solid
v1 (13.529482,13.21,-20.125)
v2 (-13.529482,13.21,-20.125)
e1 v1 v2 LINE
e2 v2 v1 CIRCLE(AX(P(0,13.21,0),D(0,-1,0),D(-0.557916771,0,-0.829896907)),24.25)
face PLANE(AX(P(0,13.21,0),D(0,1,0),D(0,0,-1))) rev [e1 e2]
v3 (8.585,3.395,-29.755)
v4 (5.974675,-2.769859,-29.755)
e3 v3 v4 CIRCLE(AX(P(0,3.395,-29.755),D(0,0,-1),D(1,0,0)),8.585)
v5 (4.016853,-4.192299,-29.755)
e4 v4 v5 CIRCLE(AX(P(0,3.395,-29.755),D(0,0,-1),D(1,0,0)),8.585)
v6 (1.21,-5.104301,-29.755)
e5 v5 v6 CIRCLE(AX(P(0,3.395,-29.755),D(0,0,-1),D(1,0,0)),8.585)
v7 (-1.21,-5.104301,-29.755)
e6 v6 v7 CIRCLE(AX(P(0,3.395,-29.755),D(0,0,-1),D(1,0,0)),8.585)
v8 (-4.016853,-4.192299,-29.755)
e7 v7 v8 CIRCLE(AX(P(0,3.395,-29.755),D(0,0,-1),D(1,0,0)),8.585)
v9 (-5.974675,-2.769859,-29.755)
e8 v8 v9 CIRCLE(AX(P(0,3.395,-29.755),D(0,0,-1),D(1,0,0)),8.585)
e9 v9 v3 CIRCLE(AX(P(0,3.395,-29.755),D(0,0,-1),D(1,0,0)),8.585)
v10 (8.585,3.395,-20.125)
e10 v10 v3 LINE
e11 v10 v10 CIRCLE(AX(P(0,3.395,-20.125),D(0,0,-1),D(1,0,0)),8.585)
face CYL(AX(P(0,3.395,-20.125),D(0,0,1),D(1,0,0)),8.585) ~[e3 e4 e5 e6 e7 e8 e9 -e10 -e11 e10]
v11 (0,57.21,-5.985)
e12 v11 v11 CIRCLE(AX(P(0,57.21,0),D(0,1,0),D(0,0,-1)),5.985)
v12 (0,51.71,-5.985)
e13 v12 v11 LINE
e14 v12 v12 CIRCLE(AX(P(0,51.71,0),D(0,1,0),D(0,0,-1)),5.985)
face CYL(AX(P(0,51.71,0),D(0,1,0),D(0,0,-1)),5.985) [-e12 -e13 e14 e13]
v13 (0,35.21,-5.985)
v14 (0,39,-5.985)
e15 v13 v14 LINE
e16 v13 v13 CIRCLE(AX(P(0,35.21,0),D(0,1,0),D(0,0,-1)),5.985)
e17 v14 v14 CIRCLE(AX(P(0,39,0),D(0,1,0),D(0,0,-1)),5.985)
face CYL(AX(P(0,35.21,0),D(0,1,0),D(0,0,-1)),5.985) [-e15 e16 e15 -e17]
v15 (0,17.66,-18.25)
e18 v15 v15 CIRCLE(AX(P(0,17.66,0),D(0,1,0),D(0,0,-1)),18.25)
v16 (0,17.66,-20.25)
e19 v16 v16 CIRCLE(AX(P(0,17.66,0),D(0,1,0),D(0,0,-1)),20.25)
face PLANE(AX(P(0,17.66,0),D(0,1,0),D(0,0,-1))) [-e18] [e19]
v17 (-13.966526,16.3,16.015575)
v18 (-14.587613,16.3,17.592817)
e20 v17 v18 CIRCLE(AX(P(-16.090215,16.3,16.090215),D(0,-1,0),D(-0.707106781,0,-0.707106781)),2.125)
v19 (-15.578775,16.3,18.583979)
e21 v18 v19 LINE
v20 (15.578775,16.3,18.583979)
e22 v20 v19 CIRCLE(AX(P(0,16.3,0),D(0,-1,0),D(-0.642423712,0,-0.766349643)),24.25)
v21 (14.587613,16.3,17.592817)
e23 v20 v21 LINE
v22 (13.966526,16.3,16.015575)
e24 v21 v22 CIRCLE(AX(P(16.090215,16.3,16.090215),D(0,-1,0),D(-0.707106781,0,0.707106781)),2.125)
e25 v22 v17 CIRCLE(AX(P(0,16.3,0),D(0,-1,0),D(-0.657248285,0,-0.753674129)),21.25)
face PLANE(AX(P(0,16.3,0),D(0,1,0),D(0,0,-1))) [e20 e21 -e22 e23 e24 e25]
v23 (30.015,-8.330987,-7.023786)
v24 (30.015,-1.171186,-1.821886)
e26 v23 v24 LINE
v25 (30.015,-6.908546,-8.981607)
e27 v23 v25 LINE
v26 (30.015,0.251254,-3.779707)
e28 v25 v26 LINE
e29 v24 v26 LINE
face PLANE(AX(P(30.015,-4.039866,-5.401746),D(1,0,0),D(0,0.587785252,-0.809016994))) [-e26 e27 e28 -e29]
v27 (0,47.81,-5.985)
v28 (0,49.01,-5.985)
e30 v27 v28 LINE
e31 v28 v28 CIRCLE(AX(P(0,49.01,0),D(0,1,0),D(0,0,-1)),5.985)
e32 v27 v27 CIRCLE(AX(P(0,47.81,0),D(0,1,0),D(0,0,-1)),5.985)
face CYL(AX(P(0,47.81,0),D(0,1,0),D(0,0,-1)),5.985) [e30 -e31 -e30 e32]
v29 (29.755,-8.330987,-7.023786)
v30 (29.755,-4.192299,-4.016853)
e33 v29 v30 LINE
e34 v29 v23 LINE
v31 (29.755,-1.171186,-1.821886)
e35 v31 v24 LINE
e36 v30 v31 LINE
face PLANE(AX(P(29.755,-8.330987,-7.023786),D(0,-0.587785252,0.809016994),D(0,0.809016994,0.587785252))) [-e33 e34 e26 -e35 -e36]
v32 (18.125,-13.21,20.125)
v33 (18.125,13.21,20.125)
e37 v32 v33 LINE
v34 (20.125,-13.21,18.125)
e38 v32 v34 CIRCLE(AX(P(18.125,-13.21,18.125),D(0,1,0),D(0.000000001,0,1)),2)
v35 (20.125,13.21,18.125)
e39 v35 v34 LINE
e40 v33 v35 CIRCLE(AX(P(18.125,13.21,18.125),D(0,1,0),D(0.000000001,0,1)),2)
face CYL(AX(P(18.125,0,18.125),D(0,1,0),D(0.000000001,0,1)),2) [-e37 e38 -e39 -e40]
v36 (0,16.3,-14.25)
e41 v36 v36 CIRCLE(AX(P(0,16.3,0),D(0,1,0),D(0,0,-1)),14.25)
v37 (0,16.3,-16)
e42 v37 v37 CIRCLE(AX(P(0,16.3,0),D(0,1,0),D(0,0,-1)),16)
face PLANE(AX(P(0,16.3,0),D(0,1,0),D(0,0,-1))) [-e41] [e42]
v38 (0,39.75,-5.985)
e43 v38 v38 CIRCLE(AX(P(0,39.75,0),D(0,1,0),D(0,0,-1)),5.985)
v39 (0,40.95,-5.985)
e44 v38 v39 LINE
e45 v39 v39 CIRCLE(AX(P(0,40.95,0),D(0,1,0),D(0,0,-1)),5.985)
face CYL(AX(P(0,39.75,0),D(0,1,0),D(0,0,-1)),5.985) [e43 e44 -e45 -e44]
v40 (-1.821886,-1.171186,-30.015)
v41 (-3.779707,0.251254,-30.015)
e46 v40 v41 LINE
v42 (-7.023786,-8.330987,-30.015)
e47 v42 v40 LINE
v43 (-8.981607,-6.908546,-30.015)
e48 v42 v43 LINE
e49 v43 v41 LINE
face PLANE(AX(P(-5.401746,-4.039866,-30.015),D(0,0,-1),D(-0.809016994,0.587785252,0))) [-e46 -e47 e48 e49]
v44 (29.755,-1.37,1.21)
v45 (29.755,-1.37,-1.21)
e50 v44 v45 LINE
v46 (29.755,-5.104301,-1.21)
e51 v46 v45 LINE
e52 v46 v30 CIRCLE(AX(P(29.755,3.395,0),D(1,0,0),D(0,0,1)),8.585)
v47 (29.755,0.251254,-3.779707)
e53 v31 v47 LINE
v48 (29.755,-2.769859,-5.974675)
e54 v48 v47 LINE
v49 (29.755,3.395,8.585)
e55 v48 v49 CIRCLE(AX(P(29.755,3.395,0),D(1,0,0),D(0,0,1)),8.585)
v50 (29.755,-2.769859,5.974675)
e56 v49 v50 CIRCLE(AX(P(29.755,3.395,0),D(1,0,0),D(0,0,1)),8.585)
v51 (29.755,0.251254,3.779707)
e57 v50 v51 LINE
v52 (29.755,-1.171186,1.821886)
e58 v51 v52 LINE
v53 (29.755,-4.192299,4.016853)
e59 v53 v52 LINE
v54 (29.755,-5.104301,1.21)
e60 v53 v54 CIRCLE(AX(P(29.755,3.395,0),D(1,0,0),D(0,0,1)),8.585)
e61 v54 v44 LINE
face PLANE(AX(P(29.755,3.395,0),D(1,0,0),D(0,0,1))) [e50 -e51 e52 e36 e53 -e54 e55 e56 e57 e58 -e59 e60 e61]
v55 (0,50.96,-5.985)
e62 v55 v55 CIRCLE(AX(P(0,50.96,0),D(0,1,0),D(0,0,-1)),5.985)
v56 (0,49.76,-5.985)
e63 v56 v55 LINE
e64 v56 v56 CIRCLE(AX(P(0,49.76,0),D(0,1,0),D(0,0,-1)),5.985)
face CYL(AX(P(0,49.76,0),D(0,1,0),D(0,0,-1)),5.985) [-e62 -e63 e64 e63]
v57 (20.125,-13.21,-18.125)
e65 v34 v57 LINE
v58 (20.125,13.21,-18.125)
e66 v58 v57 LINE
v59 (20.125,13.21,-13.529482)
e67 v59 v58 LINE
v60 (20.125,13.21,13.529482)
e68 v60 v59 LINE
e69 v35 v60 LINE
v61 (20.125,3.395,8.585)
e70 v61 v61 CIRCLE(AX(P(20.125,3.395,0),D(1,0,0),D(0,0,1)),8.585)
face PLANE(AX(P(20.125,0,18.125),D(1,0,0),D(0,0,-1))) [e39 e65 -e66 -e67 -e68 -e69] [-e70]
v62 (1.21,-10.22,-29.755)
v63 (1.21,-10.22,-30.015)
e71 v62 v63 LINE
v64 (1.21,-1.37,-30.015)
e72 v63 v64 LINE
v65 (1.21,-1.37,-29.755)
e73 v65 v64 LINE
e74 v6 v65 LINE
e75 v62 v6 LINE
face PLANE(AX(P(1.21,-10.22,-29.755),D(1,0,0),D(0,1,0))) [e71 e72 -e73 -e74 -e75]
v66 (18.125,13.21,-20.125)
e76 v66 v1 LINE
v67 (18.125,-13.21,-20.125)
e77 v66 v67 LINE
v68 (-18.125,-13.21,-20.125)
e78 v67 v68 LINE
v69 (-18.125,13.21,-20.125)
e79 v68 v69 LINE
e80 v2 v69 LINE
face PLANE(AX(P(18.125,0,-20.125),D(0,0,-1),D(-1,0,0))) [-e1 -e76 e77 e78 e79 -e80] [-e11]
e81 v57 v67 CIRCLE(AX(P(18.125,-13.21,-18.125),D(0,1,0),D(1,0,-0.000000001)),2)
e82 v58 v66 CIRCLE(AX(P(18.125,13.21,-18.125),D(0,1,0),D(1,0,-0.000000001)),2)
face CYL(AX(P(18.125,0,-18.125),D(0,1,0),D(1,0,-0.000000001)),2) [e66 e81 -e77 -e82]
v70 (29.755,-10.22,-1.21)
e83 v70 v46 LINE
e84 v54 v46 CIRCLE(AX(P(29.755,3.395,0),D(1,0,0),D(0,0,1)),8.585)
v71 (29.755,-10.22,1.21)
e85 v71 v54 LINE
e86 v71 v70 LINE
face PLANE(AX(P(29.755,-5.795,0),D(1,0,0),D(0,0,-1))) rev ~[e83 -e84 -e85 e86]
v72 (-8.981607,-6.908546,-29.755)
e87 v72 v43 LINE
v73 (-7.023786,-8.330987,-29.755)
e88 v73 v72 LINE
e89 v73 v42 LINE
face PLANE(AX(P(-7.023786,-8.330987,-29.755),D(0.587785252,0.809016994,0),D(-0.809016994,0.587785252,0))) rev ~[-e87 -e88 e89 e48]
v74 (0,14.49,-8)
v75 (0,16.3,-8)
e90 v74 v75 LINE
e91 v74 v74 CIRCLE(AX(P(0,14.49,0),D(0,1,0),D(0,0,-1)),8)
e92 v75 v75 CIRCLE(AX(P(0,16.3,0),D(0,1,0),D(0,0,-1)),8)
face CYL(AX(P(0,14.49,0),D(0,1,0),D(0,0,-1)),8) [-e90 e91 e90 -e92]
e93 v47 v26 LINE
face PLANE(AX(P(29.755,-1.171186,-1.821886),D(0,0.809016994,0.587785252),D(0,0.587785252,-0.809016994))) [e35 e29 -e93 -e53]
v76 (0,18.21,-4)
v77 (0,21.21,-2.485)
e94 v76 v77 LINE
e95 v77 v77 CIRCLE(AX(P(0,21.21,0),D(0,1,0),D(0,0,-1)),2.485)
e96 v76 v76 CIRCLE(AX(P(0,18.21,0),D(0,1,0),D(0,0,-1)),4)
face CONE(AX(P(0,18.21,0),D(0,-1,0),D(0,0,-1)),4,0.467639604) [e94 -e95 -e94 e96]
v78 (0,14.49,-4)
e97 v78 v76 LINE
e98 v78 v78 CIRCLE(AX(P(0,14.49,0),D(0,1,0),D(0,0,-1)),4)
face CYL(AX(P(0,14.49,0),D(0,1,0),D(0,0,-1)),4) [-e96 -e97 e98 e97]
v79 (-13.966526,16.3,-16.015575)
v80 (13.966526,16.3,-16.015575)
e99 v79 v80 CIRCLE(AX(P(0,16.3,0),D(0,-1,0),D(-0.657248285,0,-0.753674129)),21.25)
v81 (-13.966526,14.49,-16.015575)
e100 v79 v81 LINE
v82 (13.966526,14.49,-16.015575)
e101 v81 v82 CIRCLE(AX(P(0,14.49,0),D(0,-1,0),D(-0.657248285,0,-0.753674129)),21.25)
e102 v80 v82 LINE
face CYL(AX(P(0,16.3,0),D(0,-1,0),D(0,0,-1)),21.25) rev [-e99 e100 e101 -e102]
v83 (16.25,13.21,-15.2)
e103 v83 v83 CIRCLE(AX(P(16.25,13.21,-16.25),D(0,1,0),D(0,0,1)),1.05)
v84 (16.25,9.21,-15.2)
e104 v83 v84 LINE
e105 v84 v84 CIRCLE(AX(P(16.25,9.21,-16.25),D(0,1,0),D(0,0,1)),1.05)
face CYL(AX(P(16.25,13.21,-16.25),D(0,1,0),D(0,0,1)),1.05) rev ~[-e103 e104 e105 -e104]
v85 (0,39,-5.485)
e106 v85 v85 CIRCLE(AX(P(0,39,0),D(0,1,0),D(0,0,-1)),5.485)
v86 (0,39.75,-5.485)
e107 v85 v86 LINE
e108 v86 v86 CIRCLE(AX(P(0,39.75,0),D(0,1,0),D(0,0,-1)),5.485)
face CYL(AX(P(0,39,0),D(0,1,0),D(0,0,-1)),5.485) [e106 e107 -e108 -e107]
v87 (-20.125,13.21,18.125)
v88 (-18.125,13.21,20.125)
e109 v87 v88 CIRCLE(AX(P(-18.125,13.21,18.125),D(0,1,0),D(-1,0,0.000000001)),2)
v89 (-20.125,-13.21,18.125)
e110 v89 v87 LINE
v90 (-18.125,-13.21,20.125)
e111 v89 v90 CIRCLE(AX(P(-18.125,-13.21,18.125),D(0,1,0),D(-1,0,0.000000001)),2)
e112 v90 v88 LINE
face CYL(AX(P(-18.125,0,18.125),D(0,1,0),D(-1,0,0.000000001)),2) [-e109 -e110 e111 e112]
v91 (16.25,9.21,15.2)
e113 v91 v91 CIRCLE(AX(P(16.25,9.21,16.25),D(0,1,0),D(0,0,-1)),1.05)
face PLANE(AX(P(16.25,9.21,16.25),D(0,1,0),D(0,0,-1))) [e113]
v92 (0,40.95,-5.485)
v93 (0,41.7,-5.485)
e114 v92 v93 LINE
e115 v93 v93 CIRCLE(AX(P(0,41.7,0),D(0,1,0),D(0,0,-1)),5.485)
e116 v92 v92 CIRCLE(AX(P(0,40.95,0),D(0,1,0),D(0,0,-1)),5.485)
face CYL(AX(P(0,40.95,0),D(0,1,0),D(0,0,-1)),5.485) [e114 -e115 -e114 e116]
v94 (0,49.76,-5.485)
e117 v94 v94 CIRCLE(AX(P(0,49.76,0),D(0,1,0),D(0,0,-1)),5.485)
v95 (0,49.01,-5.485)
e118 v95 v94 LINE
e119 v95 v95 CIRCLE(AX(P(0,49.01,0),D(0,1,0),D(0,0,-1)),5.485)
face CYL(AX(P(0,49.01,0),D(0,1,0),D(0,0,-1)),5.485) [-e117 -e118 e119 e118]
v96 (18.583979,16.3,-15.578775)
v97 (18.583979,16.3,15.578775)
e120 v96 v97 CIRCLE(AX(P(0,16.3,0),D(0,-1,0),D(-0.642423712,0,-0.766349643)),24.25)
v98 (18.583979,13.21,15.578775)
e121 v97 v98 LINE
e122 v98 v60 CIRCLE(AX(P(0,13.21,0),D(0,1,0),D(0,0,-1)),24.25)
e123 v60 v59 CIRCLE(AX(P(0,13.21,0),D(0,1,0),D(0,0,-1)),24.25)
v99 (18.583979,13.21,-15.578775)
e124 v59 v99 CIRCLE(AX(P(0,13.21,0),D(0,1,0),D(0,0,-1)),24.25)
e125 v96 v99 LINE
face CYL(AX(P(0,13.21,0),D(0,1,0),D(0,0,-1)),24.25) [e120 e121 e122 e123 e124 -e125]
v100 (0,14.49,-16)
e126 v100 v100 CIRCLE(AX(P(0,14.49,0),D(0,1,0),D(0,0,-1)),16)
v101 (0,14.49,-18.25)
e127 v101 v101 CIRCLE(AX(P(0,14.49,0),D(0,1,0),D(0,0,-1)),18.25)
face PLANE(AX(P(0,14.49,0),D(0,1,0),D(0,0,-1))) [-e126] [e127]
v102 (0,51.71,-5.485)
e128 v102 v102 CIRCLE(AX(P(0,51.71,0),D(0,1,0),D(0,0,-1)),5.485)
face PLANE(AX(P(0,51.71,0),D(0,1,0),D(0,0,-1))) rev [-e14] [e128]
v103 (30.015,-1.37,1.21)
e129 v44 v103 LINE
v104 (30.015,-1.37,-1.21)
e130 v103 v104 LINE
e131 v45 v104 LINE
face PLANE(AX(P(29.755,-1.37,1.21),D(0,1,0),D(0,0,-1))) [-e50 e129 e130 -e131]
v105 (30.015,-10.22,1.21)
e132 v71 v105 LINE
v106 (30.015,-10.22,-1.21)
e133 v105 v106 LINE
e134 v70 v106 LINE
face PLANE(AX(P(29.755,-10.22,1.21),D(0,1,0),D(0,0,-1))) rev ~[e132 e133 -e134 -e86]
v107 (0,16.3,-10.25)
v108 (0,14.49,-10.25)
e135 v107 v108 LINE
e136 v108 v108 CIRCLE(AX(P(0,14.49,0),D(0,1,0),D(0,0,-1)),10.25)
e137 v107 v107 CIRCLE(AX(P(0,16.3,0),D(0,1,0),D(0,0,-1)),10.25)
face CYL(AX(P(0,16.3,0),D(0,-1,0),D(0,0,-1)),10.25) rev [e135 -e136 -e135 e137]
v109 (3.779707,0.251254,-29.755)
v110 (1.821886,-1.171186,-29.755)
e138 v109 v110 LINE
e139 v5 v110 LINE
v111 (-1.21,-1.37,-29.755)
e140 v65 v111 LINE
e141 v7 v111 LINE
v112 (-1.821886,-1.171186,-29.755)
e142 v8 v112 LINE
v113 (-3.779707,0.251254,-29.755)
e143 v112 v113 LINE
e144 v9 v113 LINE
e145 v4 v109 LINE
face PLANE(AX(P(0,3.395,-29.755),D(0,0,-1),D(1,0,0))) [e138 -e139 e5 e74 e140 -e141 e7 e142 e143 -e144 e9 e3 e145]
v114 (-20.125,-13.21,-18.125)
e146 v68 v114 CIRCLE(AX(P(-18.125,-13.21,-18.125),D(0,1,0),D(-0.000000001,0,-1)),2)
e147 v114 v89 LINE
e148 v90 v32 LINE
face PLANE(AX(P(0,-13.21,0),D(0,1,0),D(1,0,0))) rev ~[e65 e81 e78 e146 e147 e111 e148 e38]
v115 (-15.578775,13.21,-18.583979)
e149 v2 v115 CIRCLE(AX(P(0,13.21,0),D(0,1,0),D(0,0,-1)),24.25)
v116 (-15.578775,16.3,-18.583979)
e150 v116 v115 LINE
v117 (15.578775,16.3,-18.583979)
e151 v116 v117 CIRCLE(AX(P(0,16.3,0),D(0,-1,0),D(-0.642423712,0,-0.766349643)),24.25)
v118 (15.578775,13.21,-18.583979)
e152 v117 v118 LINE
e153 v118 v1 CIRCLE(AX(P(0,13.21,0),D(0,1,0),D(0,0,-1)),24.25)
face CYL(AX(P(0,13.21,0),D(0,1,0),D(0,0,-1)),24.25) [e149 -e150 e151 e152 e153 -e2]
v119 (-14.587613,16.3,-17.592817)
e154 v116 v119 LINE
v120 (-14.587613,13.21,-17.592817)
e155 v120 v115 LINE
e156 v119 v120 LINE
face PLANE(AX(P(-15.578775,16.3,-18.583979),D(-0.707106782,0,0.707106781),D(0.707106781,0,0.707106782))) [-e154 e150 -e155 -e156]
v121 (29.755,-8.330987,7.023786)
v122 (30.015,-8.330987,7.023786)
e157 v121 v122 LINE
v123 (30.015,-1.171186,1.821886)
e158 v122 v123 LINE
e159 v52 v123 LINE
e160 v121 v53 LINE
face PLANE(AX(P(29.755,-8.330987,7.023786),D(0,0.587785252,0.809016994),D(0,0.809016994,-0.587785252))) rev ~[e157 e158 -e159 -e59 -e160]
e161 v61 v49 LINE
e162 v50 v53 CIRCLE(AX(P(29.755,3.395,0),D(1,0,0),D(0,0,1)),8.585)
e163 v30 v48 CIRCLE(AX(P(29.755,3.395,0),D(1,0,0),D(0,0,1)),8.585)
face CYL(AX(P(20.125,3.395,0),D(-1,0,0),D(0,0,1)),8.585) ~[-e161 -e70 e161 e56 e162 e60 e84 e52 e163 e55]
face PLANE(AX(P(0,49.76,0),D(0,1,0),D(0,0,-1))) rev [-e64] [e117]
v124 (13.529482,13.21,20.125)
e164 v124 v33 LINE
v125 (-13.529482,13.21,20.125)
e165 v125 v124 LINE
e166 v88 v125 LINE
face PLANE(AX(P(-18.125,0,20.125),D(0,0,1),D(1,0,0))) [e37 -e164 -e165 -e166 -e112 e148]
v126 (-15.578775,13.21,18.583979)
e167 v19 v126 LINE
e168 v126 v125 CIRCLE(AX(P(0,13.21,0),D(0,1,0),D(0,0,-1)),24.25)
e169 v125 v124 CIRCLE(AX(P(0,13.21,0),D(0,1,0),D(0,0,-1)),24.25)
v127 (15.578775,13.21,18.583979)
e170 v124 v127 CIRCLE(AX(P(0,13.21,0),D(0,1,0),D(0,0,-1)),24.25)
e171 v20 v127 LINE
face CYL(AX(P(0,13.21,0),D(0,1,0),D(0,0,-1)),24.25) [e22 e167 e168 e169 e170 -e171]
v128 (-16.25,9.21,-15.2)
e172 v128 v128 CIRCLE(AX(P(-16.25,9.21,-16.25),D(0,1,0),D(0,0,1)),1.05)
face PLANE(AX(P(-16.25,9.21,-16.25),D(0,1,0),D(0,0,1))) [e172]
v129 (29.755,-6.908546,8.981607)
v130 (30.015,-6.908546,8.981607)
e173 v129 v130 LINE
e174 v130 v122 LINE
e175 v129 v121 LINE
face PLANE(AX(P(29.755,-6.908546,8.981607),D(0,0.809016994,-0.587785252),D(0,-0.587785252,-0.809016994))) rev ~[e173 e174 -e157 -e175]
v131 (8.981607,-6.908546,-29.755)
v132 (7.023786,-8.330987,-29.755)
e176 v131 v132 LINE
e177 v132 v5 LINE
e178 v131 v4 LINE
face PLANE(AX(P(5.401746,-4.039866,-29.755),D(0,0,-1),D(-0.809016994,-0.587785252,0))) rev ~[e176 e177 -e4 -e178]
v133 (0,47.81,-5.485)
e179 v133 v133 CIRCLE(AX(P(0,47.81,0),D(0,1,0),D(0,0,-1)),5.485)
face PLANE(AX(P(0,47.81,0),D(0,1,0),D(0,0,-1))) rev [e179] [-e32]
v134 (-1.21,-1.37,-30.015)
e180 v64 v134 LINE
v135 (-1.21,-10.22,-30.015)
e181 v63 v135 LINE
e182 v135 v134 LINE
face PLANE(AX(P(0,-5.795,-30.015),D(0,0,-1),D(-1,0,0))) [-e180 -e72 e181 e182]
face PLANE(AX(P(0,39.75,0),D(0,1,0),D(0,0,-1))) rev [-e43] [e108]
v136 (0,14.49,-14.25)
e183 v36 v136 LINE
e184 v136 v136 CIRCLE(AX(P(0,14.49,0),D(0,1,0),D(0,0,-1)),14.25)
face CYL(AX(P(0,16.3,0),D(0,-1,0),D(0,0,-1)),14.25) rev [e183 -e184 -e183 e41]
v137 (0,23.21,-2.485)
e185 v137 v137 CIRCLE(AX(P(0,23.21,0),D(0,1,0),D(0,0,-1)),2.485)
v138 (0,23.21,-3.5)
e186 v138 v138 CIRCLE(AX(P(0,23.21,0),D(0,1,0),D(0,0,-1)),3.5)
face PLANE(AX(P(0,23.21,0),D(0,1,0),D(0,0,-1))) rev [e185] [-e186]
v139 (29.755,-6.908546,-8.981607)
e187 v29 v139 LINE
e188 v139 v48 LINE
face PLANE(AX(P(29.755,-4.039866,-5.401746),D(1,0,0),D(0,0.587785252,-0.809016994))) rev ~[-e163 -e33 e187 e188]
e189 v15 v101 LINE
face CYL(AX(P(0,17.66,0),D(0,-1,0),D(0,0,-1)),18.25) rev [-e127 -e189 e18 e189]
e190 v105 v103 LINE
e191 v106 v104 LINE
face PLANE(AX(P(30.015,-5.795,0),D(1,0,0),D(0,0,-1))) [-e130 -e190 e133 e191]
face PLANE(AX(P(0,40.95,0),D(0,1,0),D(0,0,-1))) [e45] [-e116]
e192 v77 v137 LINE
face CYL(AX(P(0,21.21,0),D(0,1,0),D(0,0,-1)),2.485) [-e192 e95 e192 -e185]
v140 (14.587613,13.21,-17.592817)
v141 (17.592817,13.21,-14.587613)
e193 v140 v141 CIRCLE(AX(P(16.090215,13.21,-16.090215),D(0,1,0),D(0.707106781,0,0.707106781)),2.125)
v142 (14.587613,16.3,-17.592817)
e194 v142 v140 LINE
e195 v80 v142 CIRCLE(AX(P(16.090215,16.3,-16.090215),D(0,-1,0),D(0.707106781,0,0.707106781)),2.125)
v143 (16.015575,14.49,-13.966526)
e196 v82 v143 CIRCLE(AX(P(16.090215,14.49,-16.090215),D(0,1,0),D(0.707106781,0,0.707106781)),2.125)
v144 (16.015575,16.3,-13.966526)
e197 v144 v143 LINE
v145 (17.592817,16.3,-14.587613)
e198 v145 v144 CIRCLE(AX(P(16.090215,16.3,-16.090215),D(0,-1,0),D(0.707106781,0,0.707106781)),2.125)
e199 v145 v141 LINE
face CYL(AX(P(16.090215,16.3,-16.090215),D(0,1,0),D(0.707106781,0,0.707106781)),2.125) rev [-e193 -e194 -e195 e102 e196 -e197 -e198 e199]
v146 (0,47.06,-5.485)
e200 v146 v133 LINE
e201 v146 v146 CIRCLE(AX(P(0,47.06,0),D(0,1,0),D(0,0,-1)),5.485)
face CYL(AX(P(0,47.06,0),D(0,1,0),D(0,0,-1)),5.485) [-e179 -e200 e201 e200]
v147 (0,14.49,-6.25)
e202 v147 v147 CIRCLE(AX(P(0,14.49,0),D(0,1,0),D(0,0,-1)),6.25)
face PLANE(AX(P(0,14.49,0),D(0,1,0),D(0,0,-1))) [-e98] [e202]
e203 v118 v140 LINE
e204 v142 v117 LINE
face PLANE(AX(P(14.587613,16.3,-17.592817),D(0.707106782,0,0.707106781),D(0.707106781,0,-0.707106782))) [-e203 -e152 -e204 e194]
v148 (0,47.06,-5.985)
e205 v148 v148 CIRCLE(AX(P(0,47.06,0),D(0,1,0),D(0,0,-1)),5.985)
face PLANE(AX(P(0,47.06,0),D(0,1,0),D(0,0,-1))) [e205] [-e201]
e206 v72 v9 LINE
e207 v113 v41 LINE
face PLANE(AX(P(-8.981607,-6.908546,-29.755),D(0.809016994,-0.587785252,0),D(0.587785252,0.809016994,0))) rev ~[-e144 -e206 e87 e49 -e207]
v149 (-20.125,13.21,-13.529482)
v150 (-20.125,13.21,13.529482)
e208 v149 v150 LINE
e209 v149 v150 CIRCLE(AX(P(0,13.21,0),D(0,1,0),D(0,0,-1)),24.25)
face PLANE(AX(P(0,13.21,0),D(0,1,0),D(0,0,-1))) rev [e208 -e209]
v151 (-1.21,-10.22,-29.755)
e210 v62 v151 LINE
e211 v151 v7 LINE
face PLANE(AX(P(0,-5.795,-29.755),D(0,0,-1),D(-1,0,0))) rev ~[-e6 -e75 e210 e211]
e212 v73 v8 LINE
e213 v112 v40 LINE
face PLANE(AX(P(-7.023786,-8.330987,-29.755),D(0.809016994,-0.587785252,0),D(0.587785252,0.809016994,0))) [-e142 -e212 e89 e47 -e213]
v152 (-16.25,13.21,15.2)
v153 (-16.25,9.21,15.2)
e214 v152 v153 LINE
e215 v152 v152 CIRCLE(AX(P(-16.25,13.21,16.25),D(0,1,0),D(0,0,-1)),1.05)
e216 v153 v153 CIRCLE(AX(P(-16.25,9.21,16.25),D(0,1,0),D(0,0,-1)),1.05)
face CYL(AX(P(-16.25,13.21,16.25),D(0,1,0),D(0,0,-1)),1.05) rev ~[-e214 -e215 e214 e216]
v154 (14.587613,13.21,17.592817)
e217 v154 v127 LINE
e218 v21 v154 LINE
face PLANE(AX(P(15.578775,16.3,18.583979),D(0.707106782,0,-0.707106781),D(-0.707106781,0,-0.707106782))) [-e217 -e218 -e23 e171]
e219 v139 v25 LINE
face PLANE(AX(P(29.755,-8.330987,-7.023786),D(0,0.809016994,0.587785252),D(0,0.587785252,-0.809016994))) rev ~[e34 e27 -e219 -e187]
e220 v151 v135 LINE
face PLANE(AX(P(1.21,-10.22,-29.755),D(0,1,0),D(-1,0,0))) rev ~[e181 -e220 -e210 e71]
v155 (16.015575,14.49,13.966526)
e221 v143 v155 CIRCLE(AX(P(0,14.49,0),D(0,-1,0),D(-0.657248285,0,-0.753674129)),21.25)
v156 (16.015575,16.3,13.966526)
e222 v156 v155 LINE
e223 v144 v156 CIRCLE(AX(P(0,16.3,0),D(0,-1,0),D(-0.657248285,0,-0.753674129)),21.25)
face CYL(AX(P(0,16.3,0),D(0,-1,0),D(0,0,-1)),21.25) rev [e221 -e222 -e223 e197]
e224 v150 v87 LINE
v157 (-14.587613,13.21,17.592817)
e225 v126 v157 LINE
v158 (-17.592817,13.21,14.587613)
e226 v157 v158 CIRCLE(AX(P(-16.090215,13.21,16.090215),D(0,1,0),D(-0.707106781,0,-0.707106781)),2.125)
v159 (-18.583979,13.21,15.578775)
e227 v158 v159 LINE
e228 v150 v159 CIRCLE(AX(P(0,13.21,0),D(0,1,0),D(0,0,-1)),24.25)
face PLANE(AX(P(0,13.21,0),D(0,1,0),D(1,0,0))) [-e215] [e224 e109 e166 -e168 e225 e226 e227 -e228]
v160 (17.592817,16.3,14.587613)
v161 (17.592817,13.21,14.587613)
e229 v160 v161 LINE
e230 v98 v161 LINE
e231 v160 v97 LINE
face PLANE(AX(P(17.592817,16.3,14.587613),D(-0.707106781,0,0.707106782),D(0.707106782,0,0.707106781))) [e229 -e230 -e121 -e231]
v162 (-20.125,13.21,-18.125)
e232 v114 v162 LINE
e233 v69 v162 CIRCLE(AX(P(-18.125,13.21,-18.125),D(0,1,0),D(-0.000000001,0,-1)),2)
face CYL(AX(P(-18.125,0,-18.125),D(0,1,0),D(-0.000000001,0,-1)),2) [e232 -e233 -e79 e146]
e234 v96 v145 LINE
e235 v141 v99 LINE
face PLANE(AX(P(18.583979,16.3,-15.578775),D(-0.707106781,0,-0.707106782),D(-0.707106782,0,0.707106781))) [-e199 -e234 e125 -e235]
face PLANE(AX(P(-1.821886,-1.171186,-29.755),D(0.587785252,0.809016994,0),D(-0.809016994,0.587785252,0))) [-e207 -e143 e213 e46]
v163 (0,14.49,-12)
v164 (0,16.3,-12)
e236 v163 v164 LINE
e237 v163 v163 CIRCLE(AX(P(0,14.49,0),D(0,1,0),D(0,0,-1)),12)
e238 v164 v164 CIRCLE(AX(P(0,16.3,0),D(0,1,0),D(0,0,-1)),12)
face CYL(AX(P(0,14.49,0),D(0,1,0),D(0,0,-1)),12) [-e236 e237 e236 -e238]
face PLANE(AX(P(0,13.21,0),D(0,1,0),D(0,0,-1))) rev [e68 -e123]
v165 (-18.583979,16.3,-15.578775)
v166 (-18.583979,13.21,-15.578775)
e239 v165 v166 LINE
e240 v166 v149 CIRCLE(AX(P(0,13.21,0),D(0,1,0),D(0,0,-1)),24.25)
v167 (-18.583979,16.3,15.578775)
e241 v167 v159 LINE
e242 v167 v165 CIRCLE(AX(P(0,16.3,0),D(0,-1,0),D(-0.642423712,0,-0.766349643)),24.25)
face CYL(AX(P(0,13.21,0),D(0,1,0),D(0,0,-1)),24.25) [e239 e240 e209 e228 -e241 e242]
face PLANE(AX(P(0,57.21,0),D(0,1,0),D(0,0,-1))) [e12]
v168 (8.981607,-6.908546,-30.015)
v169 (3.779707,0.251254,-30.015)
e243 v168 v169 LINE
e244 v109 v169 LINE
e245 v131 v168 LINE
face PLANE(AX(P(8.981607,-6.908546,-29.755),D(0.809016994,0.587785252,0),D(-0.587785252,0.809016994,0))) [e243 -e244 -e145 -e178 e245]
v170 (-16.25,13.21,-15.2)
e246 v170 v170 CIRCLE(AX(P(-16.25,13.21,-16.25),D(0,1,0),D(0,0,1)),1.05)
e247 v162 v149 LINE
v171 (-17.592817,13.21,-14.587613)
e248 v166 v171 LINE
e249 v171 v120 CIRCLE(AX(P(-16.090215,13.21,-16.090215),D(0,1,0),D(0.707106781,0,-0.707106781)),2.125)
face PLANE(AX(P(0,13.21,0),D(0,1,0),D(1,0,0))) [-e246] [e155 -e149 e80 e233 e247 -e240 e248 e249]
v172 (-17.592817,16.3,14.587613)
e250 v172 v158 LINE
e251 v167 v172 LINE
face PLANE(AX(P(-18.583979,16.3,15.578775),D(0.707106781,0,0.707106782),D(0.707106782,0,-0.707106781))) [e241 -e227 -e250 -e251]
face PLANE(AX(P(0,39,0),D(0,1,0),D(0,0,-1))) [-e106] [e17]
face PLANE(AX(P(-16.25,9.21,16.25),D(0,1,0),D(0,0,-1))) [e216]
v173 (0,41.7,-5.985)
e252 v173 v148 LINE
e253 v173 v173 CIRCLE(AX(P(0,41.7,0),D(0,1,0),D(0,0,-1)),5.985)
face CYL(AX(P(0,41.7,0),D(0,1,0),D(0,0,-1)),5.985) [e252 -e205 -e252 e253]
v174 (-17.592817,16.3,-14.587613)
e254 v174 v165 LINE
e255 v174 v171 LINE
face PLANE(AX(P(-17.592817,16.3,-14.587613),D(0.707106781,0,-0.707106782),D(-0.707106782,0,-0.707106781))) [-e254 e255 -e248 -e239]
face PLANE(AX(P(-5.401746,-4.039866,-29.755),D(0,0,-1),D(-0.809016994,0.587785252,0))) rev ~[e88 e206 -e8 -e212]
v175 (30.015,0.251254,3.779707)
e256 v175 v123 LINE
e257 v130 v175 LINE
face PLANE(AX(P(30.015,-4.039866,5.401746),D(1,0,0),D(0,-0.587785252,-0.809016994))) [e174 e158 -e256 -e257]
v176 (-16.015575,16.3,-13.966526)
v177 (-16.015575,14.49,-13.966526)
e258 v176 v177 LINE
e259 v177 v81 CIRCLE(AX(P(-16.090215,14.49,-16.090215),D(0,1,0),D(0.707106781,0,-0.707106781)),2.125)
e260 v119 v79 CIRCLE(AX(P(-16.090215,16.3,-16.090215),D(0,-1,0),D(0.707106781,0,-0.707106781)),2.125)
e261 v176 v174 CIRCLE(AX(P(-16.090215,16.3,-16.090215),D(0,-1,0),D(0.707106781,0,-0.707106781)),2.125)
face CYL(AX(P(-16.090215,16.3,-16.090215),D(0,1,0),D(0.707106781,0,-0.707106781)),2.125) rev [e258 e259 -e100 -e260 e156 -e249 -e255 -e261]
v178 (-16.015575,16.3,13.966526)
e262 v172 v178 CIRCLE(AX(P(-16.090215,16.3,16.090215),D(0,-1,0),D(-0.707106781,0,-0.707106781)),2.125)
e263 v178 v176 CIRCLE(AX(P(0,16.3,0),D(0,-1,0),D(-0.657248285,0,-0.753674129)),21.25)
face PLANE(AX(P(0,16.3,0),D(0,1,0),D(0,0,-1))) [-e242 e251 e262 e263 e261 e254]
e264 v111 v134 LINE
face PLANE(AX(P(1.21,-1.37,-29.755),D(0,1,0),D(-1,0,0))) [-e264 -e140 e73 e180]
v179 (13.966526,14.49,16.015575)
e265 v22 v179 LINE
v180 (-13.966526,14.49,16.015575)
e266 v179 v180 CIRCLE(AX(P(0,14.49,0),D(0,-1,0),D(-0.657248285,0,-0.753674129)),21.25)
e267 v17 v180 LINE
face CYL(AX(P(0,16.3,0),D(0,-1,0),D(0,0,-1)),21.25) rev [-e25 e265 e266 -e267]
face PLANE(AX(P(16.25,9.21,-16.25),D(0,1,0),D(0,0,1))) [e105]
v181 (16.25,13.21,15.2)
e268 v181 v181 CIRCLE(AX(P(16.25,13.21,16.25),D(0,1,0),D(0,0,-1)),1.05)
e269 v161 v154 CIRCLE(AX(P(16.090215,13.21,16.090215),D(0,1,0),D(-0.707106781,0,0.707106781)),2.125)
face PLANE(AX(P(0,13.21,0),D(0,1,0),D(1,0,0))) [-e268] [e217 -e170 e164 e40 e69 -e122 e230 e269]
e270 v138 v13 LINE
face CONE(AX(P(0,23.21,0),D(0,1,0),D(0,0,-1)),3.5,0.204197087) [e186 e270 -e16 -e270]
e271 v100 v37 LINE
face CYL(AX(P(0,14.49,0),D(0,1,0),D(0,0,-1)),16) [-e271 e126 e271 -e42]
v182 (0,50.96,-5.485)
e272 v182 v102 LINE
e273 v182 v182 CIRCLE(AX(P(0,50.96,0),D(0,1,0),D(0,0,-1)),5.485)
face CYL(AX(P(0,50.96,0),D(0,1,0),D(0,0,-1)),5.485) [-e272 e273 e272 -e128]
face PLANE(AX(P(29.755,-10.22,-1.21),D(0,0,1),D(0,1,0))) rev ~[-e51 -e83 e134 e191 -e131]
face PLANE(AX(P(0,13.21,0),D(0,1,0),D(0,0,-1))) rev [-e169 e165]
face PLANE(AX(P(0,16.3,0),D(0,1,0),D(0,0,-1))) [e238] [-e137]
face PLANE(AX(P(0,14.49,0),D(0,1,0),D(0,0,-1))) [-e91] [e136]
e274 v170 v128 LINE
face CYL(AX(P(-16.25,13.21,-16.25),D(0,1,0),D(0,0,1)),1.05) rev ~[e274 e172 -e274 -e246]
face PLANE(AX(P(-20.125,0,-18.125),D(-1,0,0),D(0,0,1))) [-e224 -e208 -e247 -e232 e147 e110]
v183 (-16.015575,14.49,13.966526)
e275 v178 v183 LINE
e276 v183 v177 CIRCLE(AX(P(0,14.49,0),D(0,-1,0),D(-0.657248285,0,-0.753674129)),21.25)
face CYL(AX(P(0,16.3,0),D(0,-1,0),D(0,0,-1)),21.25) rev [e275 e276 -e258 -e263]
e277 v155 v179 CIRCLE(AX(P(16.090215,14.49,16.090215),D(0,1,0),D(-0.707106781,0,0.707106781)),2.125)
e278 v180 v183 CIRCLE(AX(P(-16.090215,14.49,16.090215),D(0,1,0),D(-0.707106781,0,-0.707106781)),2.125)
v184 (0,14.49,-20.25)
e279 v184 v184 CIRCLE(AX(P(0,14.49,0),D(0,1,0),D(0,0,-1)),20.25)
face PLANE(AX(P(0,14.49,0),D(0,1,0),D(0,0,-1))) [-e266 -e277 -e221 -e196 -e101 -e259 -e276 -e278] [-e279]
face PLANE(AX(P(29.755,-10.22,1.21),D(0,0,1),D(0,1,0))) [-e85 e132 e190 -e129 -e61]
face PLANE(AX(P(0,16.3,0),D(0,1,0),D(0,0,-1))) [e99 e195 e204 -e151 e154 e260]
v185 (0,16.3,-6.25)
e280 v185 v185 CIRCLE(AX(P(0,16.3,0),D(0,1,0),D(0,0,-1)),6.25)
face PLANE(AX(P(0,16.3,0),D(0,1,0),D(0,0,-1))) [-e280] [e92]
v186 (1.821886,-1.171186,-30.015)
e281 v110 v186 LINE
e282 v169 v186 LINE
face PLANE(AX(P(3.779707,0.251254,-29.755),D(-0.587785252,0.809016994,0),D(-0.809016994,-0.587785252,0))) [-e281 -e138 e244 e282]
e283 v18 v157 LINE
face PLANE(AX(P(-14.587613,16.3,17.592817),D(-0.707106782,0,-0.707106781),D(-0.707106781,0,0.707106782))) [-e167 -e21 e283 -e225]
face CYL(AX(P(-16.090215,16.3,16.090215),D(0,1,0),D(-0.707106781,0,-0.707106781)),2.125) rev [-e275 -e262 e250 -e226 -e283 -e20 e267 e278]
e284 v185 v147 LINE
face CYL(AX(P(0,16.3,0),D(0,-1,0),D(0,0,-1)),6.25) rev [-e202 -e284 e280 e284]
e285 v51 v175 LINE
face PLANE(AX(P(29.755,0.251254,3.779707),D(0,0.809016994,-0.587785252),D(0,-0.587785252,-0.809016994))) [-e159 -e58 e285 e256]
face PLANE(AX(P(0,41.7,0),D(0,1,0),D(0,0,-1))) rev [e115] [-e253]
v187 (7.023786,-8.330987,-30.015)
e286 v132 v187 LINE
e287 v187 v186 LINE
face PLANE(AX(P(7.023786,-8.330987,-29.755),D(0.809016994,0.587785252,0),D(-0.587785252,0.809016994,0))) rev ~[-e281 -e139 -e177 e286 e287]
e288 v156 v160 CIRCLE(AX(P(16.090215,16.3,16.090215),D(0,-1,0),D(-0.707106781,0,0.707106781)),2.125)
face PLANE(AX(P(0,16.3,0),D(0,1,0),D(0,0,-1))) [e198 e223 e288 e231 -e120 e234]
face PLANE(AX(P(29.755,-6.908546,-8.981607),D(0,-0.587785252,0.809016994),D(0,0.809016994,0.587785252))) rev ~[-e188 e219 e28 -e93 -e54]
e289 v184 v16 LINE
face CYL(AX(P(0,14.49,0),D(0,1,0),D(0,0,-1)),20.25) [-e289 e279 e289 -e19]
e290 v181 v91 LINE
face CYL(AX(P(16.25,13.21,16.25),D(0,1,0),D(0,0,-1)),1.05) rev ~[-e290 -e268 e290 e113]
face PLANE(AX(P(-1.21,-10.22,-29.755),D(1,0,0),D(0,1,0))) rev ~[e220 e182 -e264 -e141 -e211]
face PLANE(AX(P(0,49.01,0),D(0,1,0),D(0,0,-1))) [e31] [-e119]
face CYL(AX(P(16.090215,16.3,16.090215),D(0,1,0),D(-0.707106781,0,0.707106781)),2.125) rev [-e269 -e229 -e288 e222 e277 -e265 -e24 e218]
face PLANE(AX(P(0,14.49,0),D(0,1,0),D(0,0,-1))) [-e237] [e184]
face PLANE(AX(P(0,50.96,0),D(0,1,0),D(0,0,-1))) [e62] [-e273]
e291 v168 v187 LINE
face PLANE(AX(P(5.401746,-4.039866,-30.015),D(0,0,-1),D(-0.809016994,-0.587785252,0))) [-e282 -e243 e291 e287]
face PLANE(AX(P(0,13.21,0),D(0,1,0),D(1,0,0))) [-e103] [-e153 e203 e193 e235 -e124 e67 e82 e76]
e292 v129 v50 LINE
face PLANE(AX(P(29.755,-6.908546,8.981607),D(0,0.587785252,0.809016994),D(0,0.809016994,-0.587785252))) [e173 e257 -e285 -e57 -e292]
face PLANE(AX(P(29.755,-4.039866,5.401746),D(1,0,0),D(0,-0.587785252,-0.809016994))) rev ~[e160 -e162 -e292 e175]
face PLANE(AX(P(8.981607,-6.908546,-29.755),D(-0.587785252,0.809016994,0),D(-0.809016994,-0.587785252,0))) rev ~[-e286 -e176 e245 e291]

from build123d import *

# Parameters (mm, degrees)
BOSS_EXTRUDE1_DEPTH         = 13.21
SKETCH2_R                   = 8.585
BOSS_EXTRUDE2_DEPTH         = 9.63
SKETCH3_W                   = 2.42
SKETCH3_H                   = 8.85
BOSS_EXTRUDE3_DEPTH         = 0.26
CIRPATTERN2_COUNT           = 10
CIRPATTERN1_COUNT           = 2
CIRPATTERN1_ANGLE           = 90
CIRPATTERN1_COPY_1_SKETCH_W = 2.42
CIRPATTERN1_COPY_1_SKETCH_H = 8.85
CIRPATTERN1_COPY_1_DEPTH    = 0.26
CIRPATTERN1_COPY_2_SKETCH_W = 2.42
CIRPATTERN1_COPY_2_SKETCH_H = 8.85
CIRPATTERN1_COPY_2_DEPTH    = 0.26
CUT_EXTRUDE1_REACH          = 60.953
SKETCH7_R                   = 1.05
CUT_EXTRUDE2_DEPTH          = 4


with BuildPart() as part:
    # Sketch1 → Boss-Extrude1 (new, symmetric)
    with BuildSketch(Plane(origin=(0, 0, 0), x_dir=(1, 0, 0), z_dir=(0, 1, 0))):
        with BuildLine():
            Line((18.125, 20.125), (-18.125, 20.125))
            ThreePointArc((-18.125, 20.125), (-19.539213562, 19.539213562), (-20.125, 18.125))
            Line((-20.125, 18.125), (-20.125, -18.125))
            ThreePointArc((-20.125, -18.125), (-19.539213562, -19.539213562), (-18.125, -20.125))
            Line((-18.125, -20.125), (18.125, -20.125))
            ThreePointArc((18.125, -20.125), (19.539213562, -19.539213562), (20.125, -18.125))
            Line((20.125, -18.125), (20.125, 18.125))
            ThreePointArc((20.125, 18.125), (19.539213562, 19.539213562), (18.125, 20.125))
        make_face()
    extrude(amount=BOSS_EXTRUDE1_DEPTH, both=True)

    # Sketch2 → Boss-Extrude2 (add)
    with BuildSketch(Plane(origin=(20.125, 0, 0), x_dir=(0, 0, -1), z_dir=(1, 0, 0))):
        with Locations(Location((0, 3.395, 0), (0, 0, 180))):
            Circle(SKETCH2_R)
    boss_extrude2 = extrude(amount=BOSS_EXTRUDE2_DEPTH)

    # Sketch3 → Boss-Extrude3 (add)
    with BuildSketch(Plane(origin=(29.755, 0, 0), x_dir=(0, 0, -1), z_dir=(1, 0, 0))):
        with Locations((0, -5.795)):
            Rectangle(SKETCH3_W, SKETCH3_H)
    boss_extrude3 = extrude(amount=BOSS_EXTRUDE3_DEPTH)

    # CirPattern2: Boss-Extrude3 ×10 about axis, 7 skipped
    cirpattern2_axis = Axis((0, 3.395, 0), (1, 0, 0))
    add([boss_extrude3.rotate(cirpattern2_axis, i * 360 / CIRPATTERN2_COUNT) for i in range(1, CIRPATTERN2_COUNT) if i not in (2, 3, 4, 5, 6, 7, 8)])

    # CirPattern1: Boss-Extrude2, Boss-Extrude3 ×2 about axis
    cirpattern1_axis = Axis((0, 0, 0), (0, 1, 0))
    add([boss_extrude2.rotate(cirpattern1_axis, i * CIRPATTERN1_ANGLE / (CIRPATTERN1_COUNT - 1)) for i in range(1, CIRPATTERN1_COUNT)])
    add([boss_extrude3.rotate(cirpattern1_axis, i * CIRPATTERN1_ANGLE / (CIRPATTERN1_COUNT - 1)) for i in range(1, CIRPATTERN1_COUNT)])

    # CirPattern1 copy 1 sketch → CirPattern1 copy 1 (add)
    with BuildSketch(Plane(origin=(-1.995530932, 0.648387304, -29.755), x_dir=(-0.8090169943749475, 0.5877852522924731, 2.9203766201002924e-15), z_dir=(0, 0, -1))):
        with Locations((0, -5.795)):
            Rectangle(CIRPATTERN1_COPY_1_SKETCH_W, CIRPATTERN1_COPY_1_SKETCH_H)
    extrude(amount=CIRPATTERN1_COPY_1_DEPTH)

    # CirPattern1 copy 2 sketch → CirPattern1 copy 2 (add)
    with BuildSketch(Plane(origin=(1.995530932, 0.648387304, -29.755), x_dir=(-0.8090169943749473, -0.5877852522924734, 2.920376620100292e-15), z_dir=(0, 0, -1))):
        with Locations((0, -5.795)):
            Rectangle(CIRPATTERN1_COPY_2_SKETCH_W, CIRPATTERN1_COPY_2_SKETCH_H)
    extrude(amount=CIRPATTERN1_COPY_2_DEPTH)

    # Sketch5 → Revolve1 (revolve)
    with BuildSketch(Plane.XY, mode=Mode.PRIVATE) as revolve1_sk:
        Polygon((0, 13.21), (-24.25, 13.21), (-24.25, 16.3), (-21.25, 16.3), (-21.25, 14.49), (-20.25, 14.49), (-20.25, 17.66), (-18.25, 17.66), (-18.25, 14.49), (-16, 14.49), (-16, 16.3), (-14.25, 16.3), (-14.25, 14.49), (-12, 14.49), (-12, 16.3), (-10.25, 16.3), (-10.25, 14.49), (-8, 14.49), (-8, 16.3), (-6.25, 16.3), (-6.25, 14.49), (-4, 14.49), (-4, 18.21), (-2.485, 21.21), (-2.485, 23.21), (-3.5, 23.21), (-5.985, 35.21), (-5.985, 39), (-5.485, 39), (-5.485, 39.75), (-5.985, 39.75), (-5.985, 40.95), (-5.485, 40.95), (-5.485, 41.7), (-5.985, 41.7), (-5.985, 47.06), (-5.485, 47.06), (-5.485, 47.81), (-5.985, 47.81), (-5.985, 49.01), (-5.485, 49.01), (-5.485, 49.76), (-5.985, 49.76), (-5.985, 50.96), (-5.485, 50.96), (-5.485, 51.71), (-5.985, 51.71), (-5.985, 57.21), (0, 57.21), align=None)
    revolve(revolve1_sk.sketch.rotate(Axis((0, 0, 0), (0, 1, 0)), 270), axis=Axis((0, 0, 0), (0, 1, 0)))

    # Cut-Extrude1: up to this face of the body (flat: up to its plane)
    cut_extrude1_end = Plane(part.part.faces().sort_by_distance((-17.994834976, 13.21, 17.994834976))[0])
    # Sketch6 → Cut-Extrude1 (cut, up to the picked face)
    with BuildSketch(Plane(origin=(0, 16.3, 0), x_dir=(1, 0, 0), z_dir=(0, 1, 0)), mode=Mode.PRIVATE) as cut_extrude1_sk1:
        with BuildLine():
            Line((-17.592816716, 14.587612896), (-18.583978831, 15.57877501))
            ThreePointArc((-18.583978831, 15.57877501), (-17.147339444, 17.147339444), (-15.57877501, 18.583978831))
            Line((-15.57877501, 18.583978831), (-14.587612896, 17.592816716))
            ThreePointArc((-14.587612896, 17.592816716), (-14.587612896, 14.587612896), (-17.592816716, 14.587612896))
        make_face()
    cut_extrude1_tool1 = split(extrude(cut_extrude1_sk1.sketch, amount=-CUT_EXTRUDE1_REACH, mode=Mode.PRIVATE), bisect_by=cut_extrude1_end, keep=Keep.BOTH, mode=Mode.PRIVATE)
    # Sketch6 → Cut-Extrude1 (cut, up to the picked face)
    with BuildSketch(Plane(origin=(0, 16.3, 0), x_dir=(1, 0, 0), z_dir=(0, 1, 0)), mode=Mode.PRIVATE) as cut_extrude1_sk2:
        with BuildLine():
            Line((14.587612896, 17.592816716), (15.57877501, 18.583978831))
            ThreePointArc((15.57877501, 18.583978831), (17.147339444, 17.147339444), (18.583978831, 15.57877501))
            Line((18.583978831, 15.57877501), (17.592816716, 14.587612896))
            ThreePointArc((17.592816716, 14.587612896), (14.587612896, 14.587612896), (14.587612896, 17.592816716))
        make_face()
    cut_extrude1_tool2 = split(extrude(cut_extrude1_sk2.sketch, amount=-CUT_EXTRUDE1_REACH, mode=Mode.PRIVATE), bisect_by=cut_extrude1_end, keep=Keep.BOTH, mode=Mode.PRIVATE)
    # Sketch6 → Cut-Extrude1 (cut, up to the picked face)
    with BuildSketch(Plane(origin=(0, 16.3, 0), x_dir=(1, 0, 0), z_dir=(0, 1, 0)), mode=Mode.PRIVATE) as cut_extrude1_sk3:
        with BuildLine():
            Line((17.592816716, -14.587612896), (18.583978831, -15.57877501))
            ThreePointArc((18.583978831, -15.57877501), (17.147339444, -17.147339444), (15.57877501, -18.583978831))
            Line((15.57877501, -18.583978831), (14.587612896, -17.592816716))
            ThreePointArc((14.587612896, -17.592816716), (14.587612896, -14.587612896), (17.592816716, -14.587612896))
        make_face()
    cut_extrude1_tool3 = split(extrude(cut_extrude1_sk3.sketch, amount=-CUT_EXTRUDE1_REACH, mode=Mode.PRIVATE), bisect_by=cut_extrude1_end, keep=Keep.BOTH, mode=Mode.PRIVATE)
    # Sketch6 → Cut-Extrude1 (cut, up to the picked face)
    with BuildSketch(Plane(origin=(0, 16.3, 0), x_dir=(1, 0, 0), z_dir=(0, 1, 0)), mode=Mode.PRIVATE) as cut_extrude1_sk4:
        with BuildLine():
            Line((-14.587612896, -17.592816716), (-15.57877501, -18.583978831))
            ThreePointArc((-15.57877501, -18.583978831), (-17.147339444, -17.147339444), (-18.583978831, -15.57877501))
            Line((-18.583978831, -15.57877501), (-17.592816716, -14.587612896))
            ThreePointArc((-17.592816716, -14.587612896), (-14.587612896, -14.587612896), (-14.587612896, -17.592816716))
        make_face()
    cut_extrude1_tool4 = split(extrude(cut_extrude1_sk4.sketch, amount=-CUT_EXTRUDE1_REACH, mode=Mode.PRIVATE), bisect_by=cut_extrude1_end, keep=Keep.BOTH, mode=Mode.PRIVATE)
    add(cut_extrude1_tool1.solids().sort_by(Axis((-15.992422, 16.3, -15.992422), (0, -1, 0)))[0], mode=Mode.SUBTRACT)
    add(cut_extrude1_tool2.solids().sort_by(Axis((15.992422, 16.3, -15.992422), (0, -1, 0)))[0], mode=Mode.SUBTRACT)
    add(cut_extrude1_tool3.solids().sort_by(Axis((15.992422, 16.3, 15.992422), (0, -1, 0)))[0], mode=Mode.SUBTRACT)
    add(cut_extrude1_tool4.solids().sort_by(Axis((-15.992422, 16.3, 15.992422), (0, -1, 0)))[0], mode=Mode.SUBTRACT)

    # Sketch7 → Cut-Extrude2 (cut)
    with BuildSketch(Plane(origin=(0, 13.21, 0), x_dir=(1, 0, 0), z_dir=(0, 1, 0))):
        with Locations(Location((-16.25, 16.25, 0), (0, 0, 270))):
            Circle(SKETCH7_R)
        with Locations(Location((16.25, 16.25, 0), (0, 0, 270))):
            Circle(SKETCH7_R)
        with Locations(Location((16.25, -16.25, 0), (0, 0, 90))):
            Circle(SKETCH7_R)
        with Locations(Location((-16.25, -16.25, 0), (0, 0, 90))):
            Circle(SKETCH7_R)
    extrude(amount=-CUT_EXTRUDE2_DEPTH, mode=Mode.SUBTRACT)


solid = part.part
